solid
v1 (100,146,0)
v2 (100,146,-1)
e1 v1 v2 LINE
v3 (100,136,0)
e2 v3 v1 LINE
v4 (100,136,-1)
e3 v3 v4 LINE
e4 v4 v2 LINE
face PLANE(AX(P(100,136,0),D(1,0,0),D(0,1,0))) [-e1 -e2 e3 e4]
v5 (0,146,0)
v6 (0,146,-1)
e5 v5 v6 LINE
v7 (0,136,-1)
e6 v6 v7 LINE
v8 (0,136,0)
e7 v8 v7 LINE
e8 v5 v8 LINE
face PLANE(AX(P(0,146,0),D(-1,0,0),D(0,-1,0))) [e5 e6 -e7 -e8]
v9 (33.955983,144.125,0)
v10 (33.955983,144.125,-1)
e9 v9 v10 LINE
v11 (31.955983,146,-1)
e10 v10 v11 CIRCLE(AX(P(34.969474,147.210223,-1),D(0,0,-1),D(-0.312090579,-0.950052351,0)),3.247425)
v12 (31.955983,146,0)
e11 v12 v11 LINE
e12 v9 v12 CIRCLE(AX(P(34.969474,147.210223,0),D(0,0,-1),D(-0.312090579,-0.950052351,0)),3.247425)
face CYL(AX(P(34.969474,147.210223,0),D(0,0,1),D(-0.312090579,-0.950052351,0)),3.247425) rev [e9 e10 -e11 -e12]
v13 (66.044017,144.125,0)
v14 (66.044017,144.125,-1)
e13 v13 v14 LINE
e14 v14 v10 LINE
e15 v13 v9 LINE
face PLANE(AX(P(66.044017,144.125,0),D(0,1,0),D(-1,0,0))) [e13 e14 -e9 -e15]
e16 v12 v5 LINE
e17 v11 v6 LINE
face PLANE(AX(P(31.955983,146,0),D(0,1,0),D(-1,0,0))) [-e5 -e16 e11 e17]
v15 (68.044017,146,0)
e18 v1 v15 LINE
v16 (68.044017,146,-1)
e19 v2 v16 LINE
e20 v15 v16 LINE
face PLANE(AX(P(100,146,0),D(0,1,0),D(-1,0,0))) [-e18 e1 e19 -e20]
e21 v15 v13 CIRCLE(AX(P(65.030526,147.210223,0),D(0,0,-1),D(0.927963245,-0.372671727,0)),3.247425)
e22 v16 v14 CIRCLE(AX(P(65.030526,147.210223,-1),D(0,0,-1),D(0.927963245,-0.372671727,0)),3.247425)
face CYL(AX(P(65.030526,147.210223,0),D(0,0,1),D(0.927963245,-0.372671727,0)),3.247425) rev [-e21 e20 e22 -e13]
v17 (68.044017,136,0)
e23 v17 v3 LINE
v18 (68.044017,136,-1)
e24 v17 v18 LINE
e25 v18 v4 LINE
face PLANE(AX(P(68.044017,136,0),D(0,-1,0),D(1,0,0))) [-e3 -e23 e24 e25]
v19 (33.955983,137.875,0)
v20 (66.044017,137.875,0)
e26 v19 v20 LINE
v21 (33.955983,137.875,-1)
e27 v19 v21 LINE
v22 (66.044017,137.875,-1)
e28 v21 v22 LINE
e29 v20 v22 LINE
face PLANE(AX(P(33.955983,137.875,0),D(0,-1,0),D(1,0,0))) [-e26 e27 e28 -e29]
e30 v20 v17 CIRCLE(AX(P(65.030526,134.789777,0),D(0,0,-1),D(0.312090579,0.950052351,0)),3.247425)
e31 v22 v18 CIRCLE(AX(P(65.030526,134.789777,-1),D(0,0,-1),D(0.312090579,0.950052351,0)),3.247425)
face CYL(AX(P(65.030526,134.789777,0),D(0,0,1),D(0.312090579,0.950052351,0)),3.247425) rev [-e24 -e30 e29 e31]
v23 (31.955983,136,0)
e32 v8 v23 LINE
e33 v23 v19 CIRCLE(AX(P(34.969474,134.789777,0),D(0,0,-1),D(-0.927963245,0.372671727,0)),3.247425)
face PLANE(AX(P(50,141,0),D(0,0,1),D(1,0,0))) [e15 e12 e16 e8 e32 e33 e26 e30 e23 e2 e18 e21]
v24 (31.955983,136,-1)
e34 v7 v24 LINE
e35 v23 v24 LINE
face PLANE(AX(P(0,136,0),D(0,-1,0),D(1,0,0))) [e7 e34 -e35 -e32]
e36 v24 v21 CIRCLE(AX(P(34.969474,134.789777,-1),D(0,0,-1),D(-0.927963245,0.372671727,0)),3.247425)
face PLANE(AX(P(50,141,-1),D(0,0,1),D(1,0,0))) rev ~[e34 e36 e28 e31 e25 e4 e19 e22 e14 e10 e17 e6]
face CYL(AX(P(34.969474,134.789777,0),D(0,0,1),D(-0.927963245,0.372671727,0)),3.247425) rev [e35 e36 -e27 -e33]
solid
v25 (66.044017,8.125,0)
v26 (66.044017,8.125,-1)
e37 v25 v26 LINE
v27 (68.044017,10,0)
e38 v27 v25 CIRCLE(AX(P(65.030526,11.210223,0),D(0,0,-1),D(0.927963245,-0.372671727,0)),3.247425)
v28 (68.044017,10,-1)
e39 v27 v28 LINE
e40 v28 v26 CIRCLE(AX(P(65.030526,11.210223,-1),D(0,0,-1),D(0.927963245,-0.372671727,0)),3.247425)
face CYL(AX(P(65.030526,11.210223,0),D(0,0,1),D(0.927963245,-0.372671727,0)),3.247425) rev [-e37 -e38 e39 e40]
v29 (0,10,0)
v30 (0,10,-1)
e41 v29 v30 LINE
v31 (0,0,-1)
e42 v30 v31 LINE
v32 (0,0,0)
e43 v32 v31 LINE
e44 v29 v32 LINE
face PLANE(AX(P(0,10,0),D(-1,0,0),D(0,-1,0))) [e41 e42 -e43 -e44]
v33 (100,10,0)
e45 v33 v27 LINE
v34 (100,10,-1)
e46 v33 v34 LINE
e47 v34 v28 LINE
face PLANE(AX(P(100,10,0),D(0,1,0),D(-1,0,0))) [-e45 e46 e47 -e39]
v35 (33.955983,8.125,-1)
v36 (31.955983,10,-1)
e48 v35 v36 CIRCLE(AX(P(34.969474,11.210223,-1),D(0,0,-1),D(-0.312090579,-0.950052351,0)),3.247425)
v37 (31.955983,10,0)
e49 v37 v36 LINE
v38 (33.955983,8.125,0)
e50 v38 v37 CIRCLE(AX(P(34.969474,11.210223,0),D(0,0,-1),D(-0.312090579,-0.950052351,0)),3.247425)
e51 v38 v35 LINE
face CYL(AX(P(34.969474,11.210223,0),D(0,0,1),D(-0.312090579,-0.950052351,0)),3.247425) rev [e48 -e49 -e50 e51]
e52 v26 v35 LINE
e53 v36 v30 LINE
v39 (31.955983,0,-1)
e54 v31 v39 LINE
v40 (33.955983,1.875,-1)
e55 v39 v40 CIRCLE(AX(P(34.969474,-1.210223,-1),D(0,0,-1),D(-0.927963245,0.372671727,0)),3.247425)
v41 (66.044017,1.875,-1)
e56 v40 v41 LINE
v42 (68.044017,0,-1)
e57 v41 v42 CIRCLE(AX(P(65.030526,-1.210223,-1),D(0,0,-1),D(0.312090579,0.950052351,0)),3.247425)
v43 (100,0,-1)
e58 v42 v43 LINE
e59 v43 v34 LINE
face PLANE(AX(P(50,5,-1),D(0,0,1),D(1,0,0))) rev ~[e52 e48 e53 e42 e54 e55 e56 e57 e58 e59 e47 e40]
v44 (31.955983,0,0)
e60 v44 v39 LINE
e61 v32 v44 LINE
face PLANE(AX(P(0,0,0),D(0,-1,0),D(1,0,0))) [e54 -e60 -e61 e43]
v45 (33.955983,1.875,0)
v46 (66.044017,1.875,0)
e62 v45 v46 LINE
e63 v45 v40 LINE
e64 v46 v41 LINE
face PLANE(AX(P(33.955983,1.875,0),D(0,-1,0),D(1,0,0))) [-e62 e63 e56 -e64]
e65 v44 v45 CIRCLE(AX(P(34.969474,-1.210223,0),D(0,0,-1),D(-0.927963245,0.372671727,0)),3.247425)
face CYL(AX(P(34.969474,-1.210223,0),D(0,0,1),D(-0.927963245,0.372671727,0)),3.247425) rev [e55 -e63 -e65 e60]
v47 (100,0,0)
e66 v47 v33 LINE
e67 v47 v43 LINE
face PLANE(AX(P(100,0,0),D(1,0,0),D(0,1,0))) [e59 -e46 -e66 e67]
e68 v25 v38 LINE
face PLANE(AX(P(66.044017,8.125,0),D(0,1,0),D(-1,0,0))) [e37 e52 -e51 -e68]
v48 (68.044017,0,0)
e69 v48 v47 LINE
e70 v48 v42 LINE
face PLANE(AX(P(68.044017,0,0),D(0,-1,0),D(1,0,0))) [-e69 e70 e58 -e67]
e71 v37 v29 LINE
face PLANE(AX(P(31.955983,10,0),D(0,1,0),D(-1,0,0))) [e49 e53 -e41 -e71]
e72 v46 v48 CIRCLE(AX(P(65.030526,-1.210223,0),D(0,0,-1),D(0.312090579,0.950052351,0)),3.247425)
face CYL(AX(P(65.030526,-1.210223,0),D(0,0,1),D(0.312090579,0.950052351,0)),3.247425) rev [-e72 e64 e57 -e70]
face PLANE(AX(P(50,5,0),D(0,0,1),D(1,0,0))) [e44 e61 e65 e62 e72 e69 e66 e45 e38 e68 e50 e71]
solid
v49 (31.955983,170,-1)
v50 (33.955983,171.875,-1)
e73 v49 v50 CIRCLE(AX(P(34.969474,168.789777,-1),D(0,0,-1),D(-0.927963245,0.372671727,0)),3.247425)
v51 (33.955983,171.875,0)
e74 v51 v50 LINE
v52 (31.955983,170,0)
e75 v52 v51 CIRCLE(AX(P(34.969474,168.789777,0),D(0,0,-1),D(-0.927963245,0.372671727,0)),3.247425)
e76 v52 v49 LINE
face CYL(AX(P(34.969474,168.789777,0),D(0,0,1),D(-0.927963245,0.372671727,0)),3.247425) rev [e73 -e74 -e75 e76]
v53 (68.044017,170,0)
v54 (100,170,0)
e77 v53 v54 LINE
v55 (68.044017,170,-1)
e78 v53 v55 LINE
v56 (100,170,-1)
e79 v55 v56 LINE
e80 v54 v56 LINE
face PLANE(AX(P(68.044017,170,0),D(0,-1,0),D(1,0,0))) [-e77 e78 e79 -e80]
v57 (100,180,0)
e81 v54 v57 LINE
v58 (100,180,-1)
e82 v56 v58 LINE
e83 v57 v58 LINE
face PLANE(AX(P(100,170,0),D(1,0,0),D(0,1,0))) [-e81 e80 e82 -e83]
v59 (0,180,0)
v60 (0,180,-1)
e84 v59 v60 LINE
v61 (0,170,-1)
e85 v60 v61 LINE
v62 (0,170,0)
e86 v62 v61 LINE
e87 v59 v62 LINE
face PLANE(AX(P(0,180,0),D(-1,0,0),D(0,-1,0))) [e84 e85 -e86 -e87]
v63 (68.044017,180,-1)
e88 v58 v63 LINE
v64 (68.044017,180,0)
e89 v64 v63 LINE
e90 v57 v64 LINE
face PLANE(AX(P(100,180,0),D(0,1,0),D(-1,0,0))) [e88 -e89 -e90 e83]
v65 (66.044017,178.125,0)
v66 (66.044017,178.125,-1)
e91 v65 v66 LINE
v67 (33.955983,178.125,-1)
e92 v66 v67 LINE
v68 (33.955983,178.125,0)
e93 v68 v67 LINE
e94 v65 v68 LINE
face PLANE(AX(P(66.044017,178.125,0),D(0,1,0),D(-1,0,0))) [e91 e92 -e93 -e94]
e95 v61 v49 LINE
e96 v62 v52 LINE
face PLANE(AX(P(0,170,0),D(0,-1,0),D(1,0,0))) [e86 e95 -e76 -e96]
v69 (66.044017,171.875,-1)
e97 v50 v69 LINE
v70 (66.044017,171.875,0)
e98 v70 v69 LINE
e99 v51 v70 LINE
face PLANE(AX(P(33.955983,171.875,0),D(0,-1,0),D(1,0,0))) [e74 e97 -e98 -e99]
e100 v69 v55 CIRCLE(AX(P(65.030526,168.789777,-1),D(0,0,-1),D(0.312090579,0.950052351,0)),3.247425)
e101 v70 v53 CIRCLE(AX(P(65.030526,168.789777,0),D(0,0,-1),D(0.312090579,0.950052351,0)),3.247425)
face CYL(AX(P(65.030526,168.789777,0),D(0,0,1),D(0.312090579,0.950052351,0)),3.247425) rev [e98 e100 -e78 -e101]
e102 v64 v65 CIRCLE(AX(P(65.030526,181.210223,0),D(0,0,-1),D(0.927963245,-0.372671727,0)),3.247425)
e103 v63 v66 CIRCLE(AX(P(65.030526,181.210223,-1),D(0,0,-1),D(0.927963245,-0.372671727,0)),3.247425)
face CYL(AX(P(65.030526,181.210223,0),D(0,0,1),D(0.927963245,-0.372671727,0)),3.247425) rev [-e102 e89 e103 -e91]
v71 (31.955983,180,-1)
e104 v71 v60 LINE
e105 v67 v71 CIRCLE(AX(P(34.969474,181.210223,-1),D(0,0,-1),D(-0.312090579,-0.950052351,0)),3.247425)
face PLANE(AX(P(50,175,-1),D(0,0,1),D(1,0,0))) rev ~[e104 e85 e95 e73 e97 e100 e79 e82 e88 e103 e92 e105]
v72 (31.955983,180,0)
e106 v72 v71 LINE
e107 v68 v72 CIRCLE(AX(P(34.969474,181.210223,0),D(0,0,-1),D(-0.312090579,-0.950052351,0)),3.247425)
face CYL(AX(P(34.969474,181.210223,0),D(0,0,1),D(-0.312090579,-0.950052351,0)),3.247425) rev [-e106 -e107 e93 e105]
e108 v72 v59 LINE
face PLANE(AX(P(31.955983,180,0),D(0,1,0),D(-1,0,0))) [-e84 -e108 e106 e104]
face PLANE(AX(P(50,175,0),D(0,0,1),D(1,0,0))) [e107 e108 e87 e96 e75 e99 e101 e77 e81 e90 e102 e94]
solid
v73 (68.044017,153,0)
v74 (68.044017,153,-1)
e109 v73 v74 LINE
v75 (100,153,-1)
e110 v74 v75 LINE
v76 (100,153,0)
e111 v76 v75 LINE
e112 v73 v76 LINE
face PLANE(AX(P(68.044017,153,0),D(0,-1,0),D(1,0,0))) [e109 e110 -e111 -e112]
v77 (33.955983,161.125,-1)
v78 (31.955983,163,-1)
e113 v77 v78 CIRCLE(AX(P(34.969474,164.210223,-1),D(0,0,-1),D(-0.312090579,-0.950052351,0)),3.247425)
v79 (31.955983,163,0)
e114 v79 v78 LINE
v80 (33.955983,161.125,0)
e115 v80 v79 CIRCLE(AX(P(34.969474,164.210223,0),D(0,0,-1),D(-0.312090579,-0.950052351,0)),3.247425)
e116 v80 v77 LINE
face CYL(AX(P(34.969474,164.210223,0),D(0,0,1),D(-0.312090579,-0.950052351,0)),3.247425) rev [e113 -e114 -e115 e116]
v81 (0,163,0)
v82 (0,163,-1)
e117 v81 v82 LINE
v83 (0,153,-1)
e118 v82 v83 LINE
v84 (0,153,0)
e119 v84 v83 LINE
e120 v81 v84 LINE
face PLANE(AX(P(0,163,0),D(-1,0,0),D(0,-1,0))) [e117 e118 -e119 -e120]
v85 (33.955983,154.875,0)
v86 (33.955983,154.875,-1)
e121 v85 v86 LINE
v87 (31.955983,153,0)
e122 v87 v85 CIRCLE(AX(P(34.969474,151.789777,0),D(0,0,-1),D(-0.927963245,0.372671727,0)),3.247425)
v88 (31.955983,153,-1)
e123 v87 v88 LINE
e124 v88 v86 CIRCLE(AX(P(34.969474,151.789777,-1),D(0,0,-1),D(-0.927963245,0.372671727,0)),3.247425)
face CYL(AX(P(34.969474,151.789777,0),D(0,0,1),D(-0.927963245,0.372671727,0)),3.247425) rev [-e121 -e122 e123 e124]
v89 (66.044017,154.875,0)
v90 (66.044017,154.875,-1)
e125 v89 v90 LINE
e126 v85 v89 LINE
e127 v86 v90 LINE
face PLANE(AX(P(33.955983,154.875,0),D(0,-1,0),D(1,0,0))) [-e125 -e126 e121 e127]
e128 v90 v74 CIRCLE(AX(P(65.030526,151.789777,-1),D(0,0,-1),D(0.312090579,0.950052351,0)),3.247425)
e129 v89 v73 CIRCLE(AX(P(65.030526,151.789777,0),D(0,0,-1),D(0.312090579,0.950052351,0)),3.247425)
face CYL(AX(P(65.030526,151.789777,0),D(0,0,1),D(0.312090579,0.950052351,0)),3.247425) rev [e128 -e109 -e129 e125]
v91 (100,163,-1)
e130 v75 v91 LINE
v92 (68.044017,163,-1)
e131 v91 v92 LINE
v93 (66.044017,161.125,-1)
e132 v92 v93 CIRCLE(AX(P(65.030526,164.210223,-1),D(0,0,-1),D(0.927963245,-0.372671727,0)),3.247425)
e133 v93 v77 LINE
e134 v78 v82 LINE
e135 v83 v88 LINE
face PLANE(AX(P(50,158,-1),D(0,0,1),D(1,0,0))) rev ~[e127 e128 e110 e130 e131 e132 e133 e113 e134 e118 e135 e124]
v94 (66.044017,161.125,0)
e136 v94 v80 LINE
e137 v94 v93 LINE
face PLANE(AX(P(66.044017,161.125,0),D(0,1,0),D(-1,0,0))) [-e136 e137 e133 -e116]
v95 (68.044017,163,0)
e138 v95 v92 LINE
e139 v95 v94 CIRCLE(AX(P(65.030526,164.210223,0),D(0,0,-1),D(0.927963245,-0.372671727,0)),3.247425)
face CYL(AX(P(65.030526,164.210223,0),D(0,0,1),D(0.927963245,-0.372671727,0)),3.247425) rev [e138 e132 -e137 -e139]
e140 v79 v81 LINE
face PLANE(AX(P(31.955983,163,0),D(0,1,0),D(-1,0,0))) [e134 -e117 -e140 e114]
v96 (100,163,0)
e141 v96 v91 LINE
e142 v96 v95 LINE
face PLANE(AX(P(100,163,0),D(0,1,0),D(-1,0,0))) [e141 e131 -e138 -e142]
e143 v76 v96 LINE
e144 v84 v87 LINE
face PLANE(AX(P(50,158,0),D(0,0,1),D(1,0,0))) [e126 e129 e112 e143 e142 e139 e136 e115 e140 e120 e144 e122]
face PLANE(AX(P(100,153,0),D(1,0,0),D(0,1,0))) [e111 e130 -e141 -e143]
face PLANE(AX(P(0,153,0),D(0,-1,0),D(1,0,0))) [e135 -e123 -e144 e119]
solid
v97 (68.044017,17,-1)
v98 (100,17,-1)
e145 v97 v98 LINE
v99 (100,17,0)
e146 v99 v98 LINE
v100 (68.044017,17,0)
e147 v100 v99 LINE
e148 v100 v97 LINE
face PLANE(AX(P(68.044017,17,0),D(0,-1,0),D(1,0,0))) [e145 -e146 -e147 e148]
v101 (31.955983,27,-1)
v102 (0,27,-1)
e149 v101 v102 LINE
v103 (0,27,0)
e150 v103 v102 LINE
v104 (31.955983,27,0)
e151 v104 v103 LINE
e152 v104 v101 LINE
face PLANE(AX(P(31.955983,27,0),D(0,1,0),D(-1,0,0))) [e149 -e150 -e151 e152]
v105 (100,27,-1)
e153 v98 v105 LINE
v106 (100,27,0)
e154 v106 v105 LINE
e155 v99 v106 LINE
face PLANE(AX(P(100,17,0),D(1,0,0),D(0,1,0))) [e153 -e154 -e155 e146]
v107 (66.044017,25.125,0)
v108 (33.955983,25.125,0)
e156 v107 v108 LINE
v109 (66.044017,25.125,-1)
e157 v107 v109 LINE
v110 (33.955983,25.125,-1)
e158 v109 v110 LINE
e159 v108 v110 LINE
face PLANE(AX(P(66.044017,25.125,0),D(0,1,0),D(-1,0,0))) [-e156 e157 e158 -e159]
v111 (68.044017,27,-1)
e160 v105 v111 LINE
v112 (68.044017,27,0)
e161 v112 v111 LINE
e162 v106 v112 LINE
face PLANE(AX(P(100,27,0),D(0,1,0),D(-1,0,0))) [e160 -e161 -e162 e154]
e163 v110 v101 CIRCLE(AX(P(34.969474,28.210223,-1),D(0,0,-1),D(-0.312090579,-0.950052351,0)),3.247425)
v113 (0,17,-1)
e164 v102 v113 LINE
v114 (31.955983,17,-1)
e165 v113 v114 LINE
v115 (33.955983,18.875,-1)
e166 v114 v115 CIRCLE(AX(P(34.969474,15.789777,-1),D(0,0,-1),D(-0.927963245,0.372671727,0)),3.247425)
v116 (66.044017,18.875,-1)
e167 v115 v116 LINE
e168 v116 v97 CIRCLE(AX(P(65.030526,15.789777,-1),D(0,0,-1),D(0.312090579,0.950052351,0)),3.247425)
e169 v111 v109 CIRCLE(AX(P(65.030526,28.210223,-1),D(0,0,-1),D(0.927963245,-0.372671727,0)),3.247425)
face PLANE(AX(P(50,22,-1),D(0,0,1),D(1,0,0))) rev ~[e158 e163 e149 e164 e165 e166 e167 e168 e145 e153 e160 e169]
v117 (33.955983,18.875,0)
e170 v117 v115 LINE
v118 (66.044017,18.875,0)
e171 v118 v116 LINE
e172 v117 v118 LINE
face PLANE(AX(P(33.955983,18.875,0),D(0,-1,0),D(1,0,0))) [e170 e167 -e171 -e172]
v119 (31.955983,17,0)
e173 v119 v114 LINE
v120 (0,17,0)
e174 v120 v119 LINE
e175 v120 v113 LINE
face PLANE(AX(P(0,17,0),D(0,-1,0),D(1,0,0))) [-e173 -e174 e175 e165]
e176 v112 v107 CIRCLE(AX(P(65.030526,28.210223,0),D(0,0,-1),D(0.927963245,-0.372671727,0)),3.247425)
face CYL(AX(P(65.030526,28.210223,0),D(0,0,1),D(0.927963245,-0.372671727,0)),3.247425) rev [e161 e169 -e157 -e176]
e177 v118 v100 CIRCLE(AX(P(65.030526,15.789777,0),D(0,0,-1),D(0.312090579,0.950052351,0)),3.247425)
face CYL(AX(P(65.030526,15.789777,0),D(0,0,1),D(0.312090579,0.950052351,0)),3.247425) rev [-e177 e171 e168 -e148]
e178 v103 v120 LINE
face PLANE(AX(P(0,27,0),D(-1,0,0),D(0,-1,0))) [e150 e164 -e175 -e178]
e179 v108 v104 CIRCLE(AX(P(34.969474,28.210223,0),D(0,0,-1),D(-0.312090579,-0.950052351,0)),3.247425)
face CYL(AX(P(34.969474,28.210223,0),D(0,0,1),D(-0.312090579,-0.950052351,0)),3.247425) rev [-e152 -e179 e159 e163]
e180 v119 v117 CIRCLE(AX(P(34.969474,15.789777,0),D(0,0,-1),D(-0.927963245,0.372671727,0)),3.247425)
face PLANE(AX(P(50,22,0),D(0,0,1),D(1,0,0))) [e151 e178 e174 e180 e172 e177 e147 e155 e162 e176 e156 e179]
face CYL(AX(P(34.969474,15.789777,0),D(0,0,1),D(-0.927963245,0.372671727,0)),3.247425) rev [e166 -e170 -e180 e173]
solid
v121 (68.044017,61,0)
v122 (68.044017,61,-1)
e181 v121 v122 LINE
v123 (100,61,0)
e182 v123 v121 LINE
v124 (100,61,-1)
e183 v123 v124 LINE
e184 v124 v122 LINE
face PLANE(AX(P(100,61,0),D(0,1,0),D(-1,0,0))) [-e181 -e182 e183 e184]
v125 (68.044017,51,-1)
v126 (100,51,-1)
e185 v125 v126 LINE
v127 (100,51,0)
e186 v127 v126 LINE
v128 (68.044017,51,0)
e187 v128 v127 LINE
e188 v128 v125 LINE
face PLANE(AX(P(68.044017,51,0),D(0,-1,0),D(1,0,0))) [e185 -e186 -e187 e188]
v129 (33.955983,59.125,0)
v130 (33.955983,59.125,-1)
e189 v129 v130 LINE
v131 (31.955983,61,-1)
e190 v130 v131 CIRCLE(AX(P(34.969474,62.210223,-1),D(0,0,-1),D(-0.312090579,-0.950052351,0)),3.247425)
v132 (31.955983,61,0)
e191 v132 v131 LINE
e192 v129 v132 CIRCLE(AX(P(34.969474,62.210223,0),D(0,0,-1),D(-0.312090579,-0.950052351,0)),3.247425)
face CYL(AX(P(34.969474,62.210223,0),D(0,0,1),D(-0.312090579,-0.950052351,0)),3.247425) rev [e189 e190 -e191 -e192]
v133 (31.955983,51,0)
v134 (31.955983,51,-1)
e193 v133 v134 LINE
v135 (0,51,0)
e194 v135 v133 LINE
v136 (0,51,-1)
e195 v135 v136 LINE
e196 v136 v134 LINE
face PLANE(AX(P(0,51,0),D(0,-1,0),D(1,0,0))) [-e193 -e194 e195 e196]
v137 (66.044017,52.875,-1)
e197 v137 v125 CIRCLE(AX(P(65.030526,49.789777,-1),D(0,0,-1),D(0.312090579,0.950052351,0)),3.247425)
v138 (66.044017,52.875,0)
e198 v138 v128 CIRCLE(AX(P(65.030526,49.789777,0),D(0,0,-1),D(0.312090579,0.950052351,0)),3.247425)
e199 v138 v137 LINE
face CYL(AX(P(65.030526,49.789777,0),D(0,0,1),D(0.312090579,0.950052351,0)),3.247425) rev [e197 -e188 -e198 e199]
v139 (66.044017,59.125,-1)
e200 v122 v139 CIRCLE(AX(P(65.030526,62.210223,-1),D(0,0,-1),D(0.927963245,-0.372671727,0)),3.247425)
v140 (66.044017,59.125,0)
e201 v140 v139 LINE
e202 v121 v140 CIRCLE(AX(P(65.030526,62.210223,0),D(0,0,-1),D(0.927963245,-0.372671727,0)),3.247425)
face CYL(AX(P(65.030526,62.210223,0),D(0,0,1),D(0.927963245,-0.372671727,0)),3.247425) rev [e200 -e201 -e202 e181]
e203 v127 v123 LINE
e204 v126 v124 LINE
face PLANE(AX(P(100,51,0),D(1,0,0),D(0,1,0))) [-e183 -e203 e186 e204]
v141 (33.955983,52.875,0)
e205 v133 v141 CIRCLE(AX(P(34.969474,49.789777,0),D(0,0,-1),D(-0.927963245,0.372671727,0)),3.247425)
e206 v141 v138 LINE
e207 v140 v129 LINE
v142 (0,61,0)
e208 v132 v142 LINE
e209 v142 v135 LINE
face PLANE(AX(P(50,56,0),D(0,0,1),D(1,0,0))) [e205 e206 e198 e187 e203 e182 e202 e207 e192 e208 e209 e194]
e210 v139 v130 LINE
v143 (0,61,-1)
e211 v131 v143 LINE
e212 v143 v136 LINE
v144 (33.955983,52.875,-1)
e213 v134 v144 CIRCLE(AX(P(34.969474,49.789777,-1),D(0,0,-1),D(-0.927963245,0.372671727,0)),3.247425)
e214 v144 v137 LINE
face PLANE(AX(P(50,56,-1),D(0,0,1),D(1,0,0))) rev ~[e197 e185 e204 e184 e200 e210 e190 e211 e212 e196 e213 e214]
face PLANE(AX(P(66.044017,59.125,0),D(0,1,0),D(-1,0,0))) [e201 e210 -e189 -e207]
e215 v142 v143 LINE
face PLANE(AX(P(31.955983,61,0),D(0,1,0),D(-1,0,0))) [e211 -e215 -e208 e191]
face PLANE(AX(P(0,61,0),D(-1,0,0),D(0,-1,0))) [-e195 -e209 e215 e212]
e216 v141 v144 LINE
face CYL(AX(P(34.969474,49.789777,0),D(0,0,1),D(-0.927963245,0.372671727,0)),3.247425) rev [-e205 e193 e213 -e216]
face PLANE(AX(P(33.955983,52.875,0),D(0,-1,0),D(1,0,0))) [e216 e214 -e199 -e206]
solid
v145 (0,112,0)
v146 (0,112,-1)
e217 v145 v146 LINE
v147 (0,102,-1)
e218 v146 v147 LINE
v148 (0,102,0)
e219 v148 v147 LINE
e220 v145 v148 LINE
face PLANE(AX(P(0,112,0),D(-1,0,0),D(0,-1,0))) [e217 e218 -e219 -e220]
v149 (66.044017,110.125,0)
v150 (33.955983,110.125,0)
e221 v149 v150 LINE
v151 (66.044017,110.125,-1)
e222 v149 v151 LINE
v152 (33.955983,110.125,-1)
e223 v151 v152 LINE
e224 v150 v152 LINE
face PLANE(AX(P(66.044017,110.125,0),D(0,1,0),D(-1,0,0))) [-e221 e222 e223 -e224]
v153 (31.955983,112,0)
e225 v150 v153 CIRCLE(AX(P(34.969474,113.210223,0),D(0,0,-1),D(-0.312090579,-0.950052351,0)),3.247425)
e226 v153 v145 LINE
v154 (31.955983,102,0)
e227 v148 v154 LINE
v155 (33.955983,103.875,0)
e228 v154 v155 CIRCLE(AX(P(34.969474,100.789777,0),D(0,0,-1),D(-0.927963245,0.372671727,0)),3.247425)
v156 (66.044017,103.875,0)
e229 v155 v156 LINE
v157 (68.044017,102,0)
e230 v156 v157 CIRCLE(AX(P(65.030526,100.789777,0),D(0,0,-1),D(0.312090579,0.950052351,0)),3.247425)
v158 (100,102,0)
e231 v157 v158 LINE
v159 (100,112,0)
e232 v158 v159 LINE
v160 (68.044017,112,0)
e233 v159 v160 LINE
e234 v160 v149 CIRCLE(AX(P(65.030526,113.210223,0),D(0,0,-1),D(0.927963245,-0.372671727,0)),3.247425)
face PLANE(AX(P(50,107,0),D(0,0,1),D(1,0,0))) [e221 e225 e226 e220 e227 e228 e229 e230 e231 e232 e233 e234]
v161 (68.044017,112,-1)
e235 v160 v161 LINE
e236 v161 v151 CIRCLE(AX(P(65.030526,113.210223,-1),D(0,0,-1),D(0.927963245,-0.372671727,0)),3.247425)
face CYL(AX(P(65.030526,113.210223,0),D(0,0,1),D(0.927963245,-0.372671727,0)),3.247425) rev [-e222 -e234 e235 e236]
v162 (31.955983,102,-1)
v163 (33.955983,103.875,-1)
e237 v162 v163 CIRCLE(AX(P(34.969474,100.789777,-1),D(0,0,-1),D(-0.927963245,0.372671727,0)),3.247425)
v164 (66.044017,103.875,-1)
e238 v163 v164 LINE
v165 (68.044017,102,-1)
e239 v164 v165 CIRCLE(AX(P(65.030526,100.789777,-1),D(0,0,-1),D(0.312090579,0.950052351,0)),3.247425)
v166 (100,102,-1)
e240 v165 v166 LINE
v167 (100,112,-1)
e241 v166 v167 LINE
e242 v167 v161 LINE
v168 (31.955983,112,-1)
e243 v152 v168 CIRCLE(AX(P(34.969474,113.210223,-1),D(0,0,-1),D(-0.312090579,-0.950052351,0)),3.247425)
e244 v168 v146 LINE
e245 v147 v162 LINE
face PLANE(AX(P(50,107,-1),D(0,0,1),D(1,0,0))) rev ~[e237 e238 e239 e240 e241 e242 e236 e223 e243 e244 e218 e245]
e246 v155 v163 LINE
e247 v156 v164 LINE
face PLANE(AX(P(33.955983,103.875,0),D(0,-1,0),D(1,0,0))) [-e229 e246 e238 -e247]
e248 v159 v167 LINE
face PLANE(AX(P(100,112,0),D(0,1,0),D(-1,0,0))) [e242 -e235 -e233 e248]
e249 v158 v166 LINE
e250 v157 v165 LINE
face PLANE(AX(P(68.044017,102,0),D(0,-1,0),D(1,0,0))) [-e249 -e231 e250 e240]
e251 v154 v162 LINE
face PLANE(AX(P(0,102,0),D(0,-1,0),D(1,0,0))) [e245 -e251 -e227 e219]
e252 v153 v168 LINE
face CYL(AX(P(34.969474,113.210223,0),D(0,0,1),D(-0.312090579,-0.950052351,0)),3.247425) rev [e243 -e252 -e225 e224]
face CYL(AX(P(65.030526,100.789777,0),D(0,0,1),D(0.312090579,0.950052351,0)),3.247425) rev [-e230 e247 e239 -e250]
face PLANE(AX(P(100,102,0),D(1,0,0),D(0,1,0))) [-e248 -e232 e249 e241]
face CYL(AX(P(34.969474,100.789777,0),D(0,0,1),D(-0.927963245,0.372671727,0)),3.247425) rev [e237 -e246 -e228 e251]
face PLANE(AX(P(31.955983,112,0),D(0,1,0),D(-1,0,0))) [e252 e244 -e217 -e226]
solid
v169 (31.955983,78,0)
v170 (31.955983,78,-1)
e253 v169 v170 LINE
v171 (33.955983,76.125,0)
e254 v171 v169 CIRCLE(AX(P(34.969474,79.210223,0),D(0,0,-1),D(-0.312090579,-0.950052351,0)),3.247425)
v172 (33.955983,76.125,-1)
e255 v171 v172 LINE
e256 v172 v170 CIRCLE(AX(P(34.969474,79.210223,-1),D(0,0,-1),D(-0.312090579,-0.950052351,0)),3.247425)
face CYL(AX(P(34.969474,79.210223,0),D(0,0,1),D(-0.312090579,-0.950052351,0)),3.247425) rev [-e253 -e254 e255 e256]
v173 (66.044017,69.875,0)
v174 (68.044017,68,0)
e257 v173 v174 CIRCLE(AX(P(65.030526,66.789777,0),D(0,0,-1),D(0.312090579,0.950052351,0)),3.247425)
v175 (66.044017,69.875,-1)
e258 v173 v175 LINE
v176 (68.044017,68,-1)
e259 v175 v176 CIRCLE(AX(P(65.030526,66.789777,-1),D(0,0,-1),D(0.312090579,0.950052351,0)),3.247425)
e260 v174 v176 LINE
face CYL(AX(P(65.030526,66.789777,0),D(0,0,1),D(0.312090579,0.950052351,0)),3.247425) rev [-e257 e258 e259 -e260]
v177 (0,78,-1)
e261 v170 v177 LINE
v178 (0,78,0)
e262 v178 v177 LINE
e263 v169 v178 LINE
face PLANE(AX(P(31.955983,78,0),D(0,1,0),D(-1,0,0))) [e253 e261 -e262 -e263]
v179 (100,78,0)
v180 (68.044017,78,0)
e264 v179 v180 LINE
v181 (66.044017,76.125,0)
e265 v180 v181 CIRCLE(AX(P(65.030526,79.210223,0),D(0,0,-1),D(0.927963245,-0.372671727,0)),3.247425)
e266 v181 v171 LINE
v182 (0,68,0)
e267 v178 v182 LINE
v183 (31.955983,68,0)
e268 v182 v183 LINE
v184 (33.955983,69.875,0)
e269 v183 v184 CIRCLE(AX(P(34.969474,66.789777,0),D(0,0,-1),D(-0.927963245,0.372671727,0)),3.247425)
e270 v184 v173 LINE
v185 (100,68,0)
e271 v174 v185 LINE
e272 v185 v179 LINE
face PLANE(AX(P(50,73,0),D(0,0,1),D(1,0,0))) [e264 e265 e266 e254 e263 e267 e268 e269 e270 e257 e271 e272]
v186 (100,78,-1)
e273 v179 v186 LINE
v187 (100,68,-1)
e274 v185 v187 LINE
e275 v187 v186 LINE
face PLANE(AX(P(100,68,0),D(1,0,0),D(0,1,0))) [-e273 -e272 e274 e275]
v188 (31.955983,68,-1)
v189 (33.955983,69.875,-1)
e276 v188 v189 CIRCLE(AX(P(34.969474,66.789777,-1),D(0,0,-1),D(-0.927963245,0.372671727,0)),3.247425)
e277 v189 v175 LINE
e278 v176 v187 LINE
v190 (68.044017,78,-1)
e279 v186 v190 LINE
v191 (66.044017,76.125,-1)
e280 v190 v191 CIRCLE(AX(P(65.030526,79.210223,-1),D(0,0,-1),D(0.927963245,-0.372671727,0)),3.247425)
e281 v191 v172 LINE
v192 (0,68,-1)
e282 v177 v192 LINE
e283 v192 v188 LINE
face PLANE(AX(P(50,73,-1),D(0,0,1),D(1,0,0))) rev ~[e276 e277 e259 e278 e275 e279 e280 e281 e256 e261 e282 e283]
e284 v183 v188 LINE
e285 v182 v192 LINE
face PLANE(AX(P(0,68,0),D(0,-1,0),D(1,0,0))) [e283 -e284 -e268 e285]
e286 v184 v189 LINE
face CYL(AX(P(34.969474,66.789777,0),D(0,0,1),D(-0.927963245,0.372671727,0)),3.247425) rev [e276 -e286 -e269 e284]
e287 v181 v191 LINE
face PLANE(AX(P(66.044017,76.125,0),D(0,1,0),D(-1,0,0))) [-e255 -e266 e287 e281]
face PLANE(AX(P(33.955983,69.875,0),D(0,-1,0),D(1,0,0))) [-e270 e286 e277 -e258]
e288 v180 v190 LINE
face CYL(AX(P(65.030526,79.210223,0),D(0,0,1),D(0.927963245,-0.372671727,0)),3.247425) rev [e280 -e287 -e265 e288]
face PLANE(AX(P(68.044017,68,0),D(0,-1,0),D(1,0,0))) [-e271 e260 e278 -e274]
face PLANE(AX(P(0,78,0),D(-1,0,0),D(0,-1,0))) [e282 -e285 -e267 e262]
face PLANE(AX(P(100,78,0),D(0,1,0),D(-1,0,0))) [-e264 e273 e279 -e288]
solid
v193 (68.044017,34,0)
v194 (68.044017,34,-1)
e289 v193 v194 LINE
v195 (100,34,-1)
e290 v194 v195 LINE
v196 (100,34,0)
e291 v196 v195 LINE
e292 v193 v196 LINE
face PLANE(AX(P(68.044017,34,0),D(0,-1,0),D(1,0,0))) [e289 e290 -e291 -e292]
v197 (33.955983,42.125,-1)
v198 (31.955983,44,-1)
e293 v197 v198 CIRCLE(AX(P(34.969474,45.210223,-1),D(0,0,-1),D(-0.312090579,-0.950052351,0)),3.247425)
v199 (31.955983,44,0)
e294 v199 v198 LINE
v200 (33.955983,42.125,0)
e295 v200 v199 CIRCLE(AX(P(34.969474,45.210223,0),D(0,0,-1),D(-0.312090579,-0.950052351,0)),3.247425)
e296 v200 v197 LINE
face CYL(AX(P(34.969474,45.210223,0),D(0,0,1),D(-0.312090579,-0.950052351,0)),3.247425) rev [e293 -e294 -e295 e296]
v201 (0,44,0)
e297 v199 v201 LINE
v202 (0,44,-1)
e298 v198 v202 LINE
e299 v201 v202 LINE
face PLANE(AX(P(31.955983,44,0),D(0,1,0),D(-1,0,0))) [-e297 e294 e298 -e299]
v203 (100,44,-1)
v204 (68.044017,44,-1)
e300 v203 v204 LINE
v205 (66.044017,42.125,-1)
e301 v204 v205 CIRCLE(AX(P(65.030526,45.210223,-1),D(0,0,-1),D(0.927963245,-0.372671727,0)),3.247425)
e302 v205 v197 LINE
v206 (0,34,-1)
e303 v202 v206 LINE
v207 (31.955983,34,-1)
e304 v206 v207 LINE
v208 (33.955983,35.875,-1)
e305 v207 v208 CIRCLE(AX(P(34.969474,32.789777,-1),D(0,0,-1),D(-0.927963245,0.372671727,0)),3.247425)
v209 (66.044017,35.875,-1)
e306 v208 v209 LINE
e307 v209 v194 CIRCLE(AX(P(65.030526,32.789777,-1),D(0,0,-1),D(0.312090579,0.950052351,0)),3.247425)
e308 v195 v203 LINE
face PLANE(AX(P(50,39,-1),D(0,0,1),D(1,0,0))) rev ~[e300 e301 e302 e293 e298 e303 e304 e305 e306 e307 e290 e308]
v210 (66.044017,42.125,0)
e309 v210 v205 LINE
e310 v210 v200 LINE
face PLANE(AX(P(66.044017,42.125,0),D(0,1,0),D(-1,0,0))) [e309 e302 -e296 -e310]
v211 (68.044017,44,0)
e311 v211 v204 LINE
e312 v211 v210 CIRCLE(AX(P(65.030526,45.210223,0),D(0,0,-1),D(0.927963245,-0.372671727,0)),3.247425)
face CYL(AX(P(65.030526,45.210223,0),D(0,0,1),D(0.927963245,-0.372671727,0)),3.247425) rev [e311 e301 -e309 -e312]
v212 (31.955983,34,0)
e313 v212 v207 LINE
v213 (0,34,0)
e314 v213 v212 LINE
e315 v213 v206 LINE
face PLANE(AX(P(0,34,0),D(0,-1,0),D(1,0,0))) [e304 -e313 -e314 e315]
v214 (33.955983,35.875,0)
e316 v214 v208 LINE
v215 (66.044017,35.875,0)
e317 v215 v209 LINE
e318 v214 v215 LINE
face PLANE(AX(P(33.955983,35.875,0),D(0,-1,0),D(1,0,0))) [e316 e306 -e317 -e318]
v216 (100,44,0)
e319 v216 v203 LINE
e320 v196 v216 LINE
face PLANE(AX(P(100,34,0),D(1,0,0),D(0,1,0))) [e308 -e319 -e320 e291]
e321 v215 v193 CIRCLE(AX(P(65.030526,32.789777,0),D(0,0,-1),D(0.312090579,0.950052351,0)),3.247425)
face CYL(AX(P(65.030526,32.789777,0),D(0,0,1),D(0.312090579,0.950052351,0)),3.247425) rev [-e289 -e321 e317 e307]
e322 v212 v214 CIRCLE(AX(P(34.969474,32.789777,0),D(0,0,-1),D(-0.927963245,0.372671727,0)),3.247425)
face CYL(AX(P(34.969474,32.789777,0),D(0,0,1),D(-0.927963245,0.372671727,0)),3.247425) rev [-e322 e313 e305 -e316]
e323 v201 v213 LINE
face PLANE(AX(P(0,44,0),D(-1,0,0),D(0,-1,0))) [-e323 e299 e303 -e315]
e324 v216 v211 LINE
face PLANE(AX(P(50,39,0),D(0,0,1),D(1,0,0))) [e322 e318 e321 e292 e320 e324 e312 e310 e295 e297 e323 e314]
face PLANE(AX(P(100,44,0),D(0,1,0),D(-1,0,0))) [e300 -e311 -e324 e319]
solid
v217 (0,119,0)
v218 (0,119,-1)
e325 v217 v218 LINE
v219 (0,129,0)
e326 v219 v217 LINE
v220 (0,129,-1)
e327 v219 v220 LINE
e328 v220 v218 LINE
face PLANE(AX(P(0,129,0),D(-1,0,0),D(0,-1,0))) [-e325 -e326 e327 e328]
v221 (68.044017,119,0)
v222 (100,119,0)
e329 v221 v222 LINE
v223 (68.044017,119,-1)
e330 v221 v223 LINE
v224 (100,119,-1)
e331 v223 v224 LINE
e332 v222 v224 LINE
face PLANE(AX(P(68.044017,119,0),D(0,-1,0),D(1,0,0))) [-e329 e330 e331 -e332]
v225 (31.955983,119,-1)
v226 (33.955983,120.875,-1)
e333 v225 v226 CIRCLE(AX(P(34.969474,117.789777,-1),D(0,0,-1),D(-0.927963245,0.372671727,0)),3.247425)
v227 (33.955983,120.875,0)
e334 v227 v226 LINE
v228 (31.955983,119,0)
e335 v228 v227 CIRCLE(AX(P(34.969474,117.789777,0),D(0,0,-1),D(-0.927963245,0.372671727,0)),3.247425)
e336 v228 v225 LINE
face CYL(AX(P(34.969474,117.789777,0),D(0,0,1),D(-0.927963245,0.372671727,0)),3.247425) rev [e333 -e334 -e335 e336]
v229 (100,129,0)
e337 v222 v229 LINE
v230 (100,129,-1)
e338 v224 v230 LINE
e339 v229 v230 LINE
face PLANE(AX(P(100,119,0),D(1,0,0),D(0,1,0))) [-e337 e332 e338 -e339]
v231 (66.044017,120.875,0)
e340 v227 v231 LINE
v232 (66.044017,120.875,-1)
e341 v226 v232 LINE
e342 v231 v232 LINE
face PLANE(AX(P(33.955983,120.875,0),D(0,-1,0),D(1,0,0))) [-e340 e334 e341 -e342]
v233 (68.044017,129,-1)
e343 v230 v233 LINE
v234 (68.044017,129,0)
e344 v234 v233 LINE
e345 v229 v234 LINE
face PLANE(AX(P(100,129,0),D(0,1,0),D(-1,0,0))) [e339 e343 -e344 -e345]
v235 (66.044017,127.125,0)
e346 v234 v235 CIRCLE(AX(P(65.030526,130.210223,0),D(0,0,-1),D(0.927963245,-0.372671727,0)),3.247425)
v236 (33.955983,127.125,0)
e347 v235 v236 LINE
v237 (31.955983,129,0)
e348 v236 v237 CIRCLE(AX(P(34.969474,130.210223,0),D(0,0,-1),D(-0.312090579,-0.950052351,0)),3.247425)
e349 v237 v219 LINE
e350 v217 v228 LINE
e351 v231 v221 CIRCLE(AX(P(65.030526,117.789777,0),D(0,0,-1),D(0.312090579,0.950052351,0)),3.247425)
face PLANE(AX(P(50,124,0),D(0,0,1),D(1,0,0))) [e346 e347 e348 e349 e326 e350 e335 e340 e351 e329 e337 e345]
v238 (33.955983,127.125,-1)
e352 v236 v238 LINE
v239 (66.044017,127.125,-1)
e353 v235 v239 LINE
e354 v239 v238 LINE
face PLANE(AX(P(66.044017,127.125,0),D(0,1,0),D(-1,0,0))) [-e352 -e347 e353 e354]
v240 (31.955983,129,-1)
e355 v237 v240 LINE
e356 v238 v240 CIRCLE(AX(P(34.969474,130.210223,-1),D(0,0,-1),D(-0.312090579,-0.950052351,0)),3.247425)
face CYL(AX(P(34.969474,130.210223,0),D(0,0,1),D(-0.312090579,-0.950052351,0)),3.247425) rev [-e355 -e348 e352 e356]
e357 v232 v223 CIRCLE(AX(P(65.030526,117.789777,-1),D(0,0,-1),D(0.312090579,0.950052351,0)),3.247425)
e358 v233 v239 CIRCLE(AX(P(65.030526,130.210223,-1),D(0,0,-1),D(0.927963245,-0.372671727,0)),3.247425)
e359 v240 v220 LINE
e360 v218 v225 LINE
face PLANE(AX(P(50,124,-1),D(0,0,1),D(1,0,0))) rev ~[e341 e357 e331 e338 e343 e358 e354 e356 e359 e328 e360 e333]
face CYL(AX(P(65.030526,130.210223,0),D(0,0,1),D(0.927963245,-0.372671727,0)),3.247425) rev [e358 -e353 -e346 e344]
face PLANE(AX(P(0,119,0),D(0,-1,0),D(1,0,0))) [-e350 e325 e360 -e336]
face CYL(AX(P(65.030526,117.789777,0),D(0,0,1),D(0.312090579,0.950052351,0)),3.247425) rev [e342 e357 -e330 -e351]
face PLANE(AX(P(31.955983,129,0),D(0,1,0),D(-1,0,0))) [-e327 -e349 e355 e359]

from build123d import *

# Parameters (mm, degrees)
BOSS_EXTRUDE1_DEPTH    = 1
BOSS_EXTRUDE1_2_DEPTH  = 1
BOSS_EXTRUDE1_3_DEPTH  = 1
BOSS_EXTRUDE1_4_DEPTH  = 1
BOSS_EXTRUDE1_5_DEPTH  = 1
BOSS_EXTRUDE1_6_DEPTH  = 1
BOSS_EXTRUDE1_7_DEPTH  = 1
BOSS_EXTRUDE1_8_DEPTH  = 1
BOSS_EXTRUDE1_9_DEPTH  = 1
BOSS_EXTRUDE1_10_DEPTH = 1


with BuildPart() as part:
    # Sketch1 → Boss-Extrude1 (new body)
    with BuildSketch(Plane.XY):
        with BuildLine():
            Line((0, 10), (0, 0))
            Line((0, 0), (31.955983327, 0))
            ThreePointArc((31.955983327, 0), (32.748426731, 1.158893702), (33.955983327, 1.875))
            Line((33.955983327, 1.875), (34, 1.875))
            Line((34, 1.875), (50, 1.875))
            Line((50, 1.875), (66, 1.875))
            Line((66, 1.875), (66.044016673, 1.875))
            ThreePointArc((66.044016673, 1.875), (67.251573269, 1.158893702), (68.044016673, 0))
            Line((68.044016673, 0), (100, 0))
            Line((100, 0), (100, 10))
            Line((100, 10), (68.044016673, 10))
            ThreePointArc((68.044016673, 10), (67.251573269, 8.841106298), (66.044016673, 8.125))
            Line((66.044016673, 8.125), (66, 8.125))
            Line((66, 8.125), (49.955983327, 8.125))
            Line((49.955983327, 8.125), (33.955983327, 8.125))
            ThreePointArc((33.955983327, 8.125), (32.748426731, 8.841106298), (31.955983327, 10))
            Line((31.955983327, 10), (0, 10))
        make_face()
    extrude(amount=-BOSS_EXTRUDE1_DEPTH)


with BuildPart() as body_2:
    # Sketch1 → Boss-Extrude1 2 (new body)
    with BuildSketch(Plane.XY):
        with BuildLine():
            Line((0, 27), (0, 17))
            Line((0, 17), (31.955983327, 17))
            ThreePointArc((31.955983327, 17), (32.748426731, 18.158893702), (33.955983327, 18.875))
            Line((33.955983327, 18.875), (34, 18.875))
            Line((34, 18.875), (50, 18.875))
            Line((50, 18.875), (66, 18.875))
            Line((66, 18.875), (66.044016673, 18.875))
            ThreePointArc((66.044016673, 18.875), (67.251573269, 18.158893702), (68.044016673, 17))
            Line((68.044016673, 17), (100, 17))
            Line((100, 17), (100, 27))
            Line((100, 27), (68.044016673, 27))
            ThreePointArc((68.044016673, 27), (67.251573269, 25.841106298), (66.044016673, 25.125))
            Line((66.044016673, 25.125), (66, 25.125))
            Line((66, 25.125), (49.955983327, 25.125))
            Line((49.955983327, 25.125), (33.955983327, 25.125))
            ThreePointArc((33.955983327, 25.125), (32.748426731, 25.841106298), (31.955983327, 27))
            Line((31.955983327, 27), (0, 27))
        make_face()
    extrude(amount=-BOSS_EXTRUDE1_2_DEPTH)


with BuildPart() as body_3:
    # Sketch1 → Boss-Extrude1 3 (new body)
    with BuildSketch(Plane.XY):
        with BuildLine():
            Line((0, 44), (0, 34))
            Line((0, 34), (31.955983327, 34))
            ThreePointArc((31.955983327, 34), (32.748426731, 35.158893702), (33.955983327, 35.875))
            Line((33.955983327, 35.875), (34, 35.875))
            Line((34, 35.875), (50, 35.875))
            Line((50, 35.875), (66, 35.875))
            Line((66, 35.875), (66.044016673, 35.875))
            ThreePointArc((66.044016673, 35.875), (67.251573269, 35.158893702), (68.044016673, 34))
            Line((68.044016673, 34), (100, 34))
            Line((100, 34), (100, 44))
            Line((100, 44), (68.044016673, 44))
            ThreePointArc((68.044016673, 44), (67.251573269, 42.841106298), (66.044016673, 42.125))
            Line((66.044016673, 42.125), (66, 42.125))
            Line((66, 42.125), (49.955983327, 42.125))
            Line((49.955983327, 42.125), (33.955983327, 42.125))
            ThreePointArc((33.955983327, 42.125), (32.748426731, 42.841106298), (31.955983327, 44))
            Line((31.955983327, 44), (0, 44))
        make_face()
    extrude(amount=-BOSS_EXTRUDE1_3_DEPTH)


with BuildPart() as body_4:
    # Sketch1 → Boss-Extrude1 4 (new body)
    with BuildSketch(Plane.XY):
        with BuildLine():
            Line((0, 61), (0, 51))
            Line((0, 51), (31.955983327, 51))
            ThreePointArc((31.955983327, 51), (32.748426731, 52.158893702), (33.955983327, 52.875))
            Line((33.955983327, 52.875), (34, 52.875))
            Line((34, 52.875), (50, 52.875))
            Line((50, 52.875), (66, 52.875))
            Line((66, 52.875), (66.044016673, 52.875))
            ThreePointArc((66.044016673, 52.875), (67.251573269, 52.158893702), (68.044016673, 51))
            Line((68.044016673, 51), (100, 51))
            Line((100, 51), (100, 61))
            Line((100, 61), (68.044016673, 61))
            ThreePointArc((68.044016673, 61), (67.251573269, 59.841106298), (66.044016673, 59.125))
            Line((66.044016673, 59.125), (66, 59.125))
            Line((66, 59.125), (49.955983327, 59.125))
            Line((49.955983327, 59.125), (33.955983327, 59.125))
            ThreePointArc((33.955983327, 59.125), (32.748426731, 59.841106298), (31.955983327, 61))
            Line((31.955983327, 61), (0, 61))
        make_face()
    extrude(amount=-BOSS_EXTRUDE1_4_DEPTH)


with BuildPart() as body_5:
    # Sketch1 → Boss-Extrude1 5 (new body)
    with BuildSketch(Plane.XY):
        with BuildLine():
            Line((0, 78), (0, 68))
            Line((0, 68), (31.955983327, 68))
            ThreePointArc((31.955983327, 68), (32.748426731, 69.158893702), (33.955983327, 69.875))
            Line((33.955983327, 69.875), (34, 69.875))
            Line((34, 69.875), (50, 69.875))
            Line((50, 69.875), (66, 69.875))
            Line((66, 69.875), (66.044016673, 69.875))
            ThreePointArc((66.044016673, 69.875), (67.251573269, 69.158893702), (68.044016673, 68))
            Line((68.044016673, 68), (100, 68))
            Line((100, 68), (100, 78))
            Line((100, 78), (68.044016673, 78))
            ThreePointArc((68.044016673, 78), (67.251573269, 76.841106298), (66.044016673, 76.125))
            Line((66.044016673, 76.125), (66, 76.125))
            Line((66, 76.125), (49.955983327, 76.125))
            Line((49.955983327, 76.125), (33.955983327, 76.125))
            ThreePointArc((33.955983327, 76.125), (32.748426731, 76.841106298), (31.955983327, 78))
            Line((31.955983327, 78), (0, 78))
        make_face()
    extrude(amount=-BOSS_EXTRUDE1_5_DEPTH)


with BuildPart() as body_6:
    # Sketch1 → Boss-Extrude1 6 (new body)
    with BuildSketch(Plane.XY):
        with BuildLine():
            Line((0, 112), (0, 102))
            Line((0, 102), (31.955983327, 102))
            ThreePointArc((31.955983327, 102), (32.748426731, 103.158893702), (33.955983327, 103.875))
            Line((33.955983327, 103.875), (34, 103.875))
            Line((34, 103.875), (50, 103.875))
            Line((50, 103.875), (66, 103.875))
            Line((66, 103.875), (66.044016673, 103.875))
            ThreePointArc((66.044016673, 103.875), (67.251573269, 103.158893702), (68.044016673, 102))
            Line((68.044016673, 102), (100, 102))
            Line((100, 102), (100, 112))
            Line((100, 112), (68.044016673, 112))
            ThreePointArc((68.044016673, 112), (67.251573269, 110.841106298), (66.044016673, 110.125))
            Line((66.044016673, 110.125), (66, 110.125))
            Line((66, 110.125), (49.955983327, 110.125))
            Line((49.955983327, 110.125), (33.955983327, 110.125))
            ThreePointArc((33.955983327, 110.125), (32.748426731, 110.841106298), (31.955983327, 112))
            Line((31.955983327, 112), (0, 112))
        make_face()
    extrude(amount=-BOSS_EXTRUDE1_6_DEPTH)


with BuildPart() as body_7:
    # Sketch1 → Boss-Extrude1 7 (new body)
    with BuildSketch(Plane.XY):
        with BuildLine():
            Line((0, 129), (0, 119))
            Line((0, 119), (31.955983327, 119))
            ThreePointArc((31.955983327, 119), (32.748426731, 120.158893702), (33.955983327, 120.875))
            Line((33.955983327, 120.875), (34, 120.875))
            Line((34, 120.875), (50, 120.875))
            Line((50, 120.875), (66, 120.875))
            Line((66, 120.875), (66.044016673, 120.875))
            ThreePointArc((66.044016673, 120.875), (67.251573269, 120.158893702), (68.044016673, 119))
            Line((68.044016673, 119), (100, 119))
            Line((100, 119), (100, 129))
            Line((100, 129), (68.044016673, 129))
            ThreePointArc((68.044016673, 129), (67.251573269, 127.841106298), (66.044016673, 127.125))
            Line((66.044016673, 127.125), (66, 127.125))
            Line((66, 127.125), (49.955983327, 127.125))
            Line((49.955983327, 127.125), (33.955983327, 127.125))
            ThreePointArc((33.955983327, 127.125), (32.748426731, 127.841106298), (31.955983327, 129))
            Line((31.955983327, 129), (0, 129))
        make_face()
    extrude(amount=-BOSS_EXTRUDE1_7_DEPTH)


with BuildPart() as body_8:
    # Sketch1 → Boss-Extrude1 8 (new body)
    with BuildSketch(Plane.XY):
        with BuildLine():
            Line((0, 146), (0, 136))
            Line((0, 136), (31.955983327, 136))
            ThreePointArc((31.955983327, 136), (32.748426731, 137.158893702), (33.955983327, 137.875))
            Line((33.955983327, 137.875), (34, 137.875))
            Line((34, 137.875), (50, 137.875))
            Line((50, 137.875), (66, 137.875))
            Line((66, 137.875), (66.044016673, 137.875))
            ThreePointArc((66.044016673, 137.875), (67.251573269, 137.158893702), (68.044016673, 136))
            Line((68.044016673, 136), (100, 136))
            Line((100, 136), (100, 146))
            Line((100, 146), (68.044016673, 146))
            ThreePointArc((68.044016673, 146), (67.251573269, 144.841106298), (66.044016673, 144.125))
            Line((66.044016673, 144.125), (66, 144.125))
            Line((66, 144.125), (49.955983327, 144.125))
            Line((49.955983327, 144.125), (33.955983327, 144.125))
            ThreePointArc((33.955983327, 144.125), (32.748426731, 144.841106298), (31.955983327, 146))
            Line((31.955983327, 146), (0, 146))
        make_face()
    extrude(amount=-BOSS_EXTRUDE1_8_DEPTH)


with BuildPart() as body_9:
    # Sketch1 → Boss-Extrude1 9 (new body)
    with BuildSketch(Plane.XY):
        with BuildLine():
            Line((0, 163), (0, 153))
            Line((0, 153), (31.955983327, 153))
            ThreePointArc((31.955983327, 153), (32.748426731, 154.158893702), (33.955983327, 154.875))
            Line((33.955983327, 154.875), (34, 154.875))
            Line((34, 154.875), (50, 154.875))
            Line((50, 154.875), (66, 154.875))
            Line((66, 154.875), (66.044016673, 154.875))
            ThreePointArc((66.044016673, 154.875), (67.251573269, 154.158893702), (68.044016673, 153))
            Line((68.044016673, 153), (100, 153))
            Line((100, 153), (100, 163))
            Line((100, 163), (68.044016673, 163))
            ThreePointArc((68.044016673, 163), (67.251573269, 161.841106298), (66.044016673, 161.125))
            Line((66.044016673, 161.125), (66, 161.125))
            Line((66, 161.125), (49.955983327, 161.125))
            Line((49.955983327, 161.125), (33.955983327, 161.125))
            ThreePointArc((33.955983327, 161.125), (32.748426731, 161.841106298), (31.955983327, 163))
            Line((31.955983327, 163), (0, 163))
        make_face()
    extrude(amount=-BOSS_EXTRUDE1_9_DEPTH)


with BuildPart() as body_10:
    # Sketch1 → Boss-Extrude1 10 (new body)
    with BuildSketch(Plane.XY):
        with BuildLine():
            Line((0, 180), (0, 170))
            Line((0, 170), (31.955983327, 170))
            ThreePointArc((31.955983327, 170), (32.748426731, 171.158893702), (33.955983327, 171.875))
            Line((33.955983327, 171.875), (34, 171.875))
            Line((34, 171.875), (50, 171.875))
            Line((50, 171.875), (66, 171.875))
            Line((66, 171.875), (66.044016673, 171.875))
            ThreePointArc((66.044016673, 171.875), (67.251573269, 171.158893702), (68.044016673, 170))
            Line((68.044016673, 170), (100, 170))
            Line((100, 170), (100, 180))
            Line((100, 180), (68.044016673, 180))
            ThreePointArc((68.044016673, 180), (67.251573269, 178.841106298), (66.044016673, 178.125))
            Line((66.044016673, 178.125), (66, 178.125))
            Line((66, 178.125), (49.955983327, 178.125))
            Line((49.955983327, 178.125), (33.955983327, 178.125))
            ThreePointArc((33.955983327, 178.125), (32.748426731, 178.841106298), (31.955983327, 180))
            Line((31.955983327, 180), (0, 180))
        make_face()
    extrude(amount=-BOSS_EXTRUDE1_10_DEPTH)


solid = Compound([part.part, body_2.part, body_3.part, body_4.part, body_5.part, body_6.part, body_7.part, body_8.part, body_9.part, body_10.part])
